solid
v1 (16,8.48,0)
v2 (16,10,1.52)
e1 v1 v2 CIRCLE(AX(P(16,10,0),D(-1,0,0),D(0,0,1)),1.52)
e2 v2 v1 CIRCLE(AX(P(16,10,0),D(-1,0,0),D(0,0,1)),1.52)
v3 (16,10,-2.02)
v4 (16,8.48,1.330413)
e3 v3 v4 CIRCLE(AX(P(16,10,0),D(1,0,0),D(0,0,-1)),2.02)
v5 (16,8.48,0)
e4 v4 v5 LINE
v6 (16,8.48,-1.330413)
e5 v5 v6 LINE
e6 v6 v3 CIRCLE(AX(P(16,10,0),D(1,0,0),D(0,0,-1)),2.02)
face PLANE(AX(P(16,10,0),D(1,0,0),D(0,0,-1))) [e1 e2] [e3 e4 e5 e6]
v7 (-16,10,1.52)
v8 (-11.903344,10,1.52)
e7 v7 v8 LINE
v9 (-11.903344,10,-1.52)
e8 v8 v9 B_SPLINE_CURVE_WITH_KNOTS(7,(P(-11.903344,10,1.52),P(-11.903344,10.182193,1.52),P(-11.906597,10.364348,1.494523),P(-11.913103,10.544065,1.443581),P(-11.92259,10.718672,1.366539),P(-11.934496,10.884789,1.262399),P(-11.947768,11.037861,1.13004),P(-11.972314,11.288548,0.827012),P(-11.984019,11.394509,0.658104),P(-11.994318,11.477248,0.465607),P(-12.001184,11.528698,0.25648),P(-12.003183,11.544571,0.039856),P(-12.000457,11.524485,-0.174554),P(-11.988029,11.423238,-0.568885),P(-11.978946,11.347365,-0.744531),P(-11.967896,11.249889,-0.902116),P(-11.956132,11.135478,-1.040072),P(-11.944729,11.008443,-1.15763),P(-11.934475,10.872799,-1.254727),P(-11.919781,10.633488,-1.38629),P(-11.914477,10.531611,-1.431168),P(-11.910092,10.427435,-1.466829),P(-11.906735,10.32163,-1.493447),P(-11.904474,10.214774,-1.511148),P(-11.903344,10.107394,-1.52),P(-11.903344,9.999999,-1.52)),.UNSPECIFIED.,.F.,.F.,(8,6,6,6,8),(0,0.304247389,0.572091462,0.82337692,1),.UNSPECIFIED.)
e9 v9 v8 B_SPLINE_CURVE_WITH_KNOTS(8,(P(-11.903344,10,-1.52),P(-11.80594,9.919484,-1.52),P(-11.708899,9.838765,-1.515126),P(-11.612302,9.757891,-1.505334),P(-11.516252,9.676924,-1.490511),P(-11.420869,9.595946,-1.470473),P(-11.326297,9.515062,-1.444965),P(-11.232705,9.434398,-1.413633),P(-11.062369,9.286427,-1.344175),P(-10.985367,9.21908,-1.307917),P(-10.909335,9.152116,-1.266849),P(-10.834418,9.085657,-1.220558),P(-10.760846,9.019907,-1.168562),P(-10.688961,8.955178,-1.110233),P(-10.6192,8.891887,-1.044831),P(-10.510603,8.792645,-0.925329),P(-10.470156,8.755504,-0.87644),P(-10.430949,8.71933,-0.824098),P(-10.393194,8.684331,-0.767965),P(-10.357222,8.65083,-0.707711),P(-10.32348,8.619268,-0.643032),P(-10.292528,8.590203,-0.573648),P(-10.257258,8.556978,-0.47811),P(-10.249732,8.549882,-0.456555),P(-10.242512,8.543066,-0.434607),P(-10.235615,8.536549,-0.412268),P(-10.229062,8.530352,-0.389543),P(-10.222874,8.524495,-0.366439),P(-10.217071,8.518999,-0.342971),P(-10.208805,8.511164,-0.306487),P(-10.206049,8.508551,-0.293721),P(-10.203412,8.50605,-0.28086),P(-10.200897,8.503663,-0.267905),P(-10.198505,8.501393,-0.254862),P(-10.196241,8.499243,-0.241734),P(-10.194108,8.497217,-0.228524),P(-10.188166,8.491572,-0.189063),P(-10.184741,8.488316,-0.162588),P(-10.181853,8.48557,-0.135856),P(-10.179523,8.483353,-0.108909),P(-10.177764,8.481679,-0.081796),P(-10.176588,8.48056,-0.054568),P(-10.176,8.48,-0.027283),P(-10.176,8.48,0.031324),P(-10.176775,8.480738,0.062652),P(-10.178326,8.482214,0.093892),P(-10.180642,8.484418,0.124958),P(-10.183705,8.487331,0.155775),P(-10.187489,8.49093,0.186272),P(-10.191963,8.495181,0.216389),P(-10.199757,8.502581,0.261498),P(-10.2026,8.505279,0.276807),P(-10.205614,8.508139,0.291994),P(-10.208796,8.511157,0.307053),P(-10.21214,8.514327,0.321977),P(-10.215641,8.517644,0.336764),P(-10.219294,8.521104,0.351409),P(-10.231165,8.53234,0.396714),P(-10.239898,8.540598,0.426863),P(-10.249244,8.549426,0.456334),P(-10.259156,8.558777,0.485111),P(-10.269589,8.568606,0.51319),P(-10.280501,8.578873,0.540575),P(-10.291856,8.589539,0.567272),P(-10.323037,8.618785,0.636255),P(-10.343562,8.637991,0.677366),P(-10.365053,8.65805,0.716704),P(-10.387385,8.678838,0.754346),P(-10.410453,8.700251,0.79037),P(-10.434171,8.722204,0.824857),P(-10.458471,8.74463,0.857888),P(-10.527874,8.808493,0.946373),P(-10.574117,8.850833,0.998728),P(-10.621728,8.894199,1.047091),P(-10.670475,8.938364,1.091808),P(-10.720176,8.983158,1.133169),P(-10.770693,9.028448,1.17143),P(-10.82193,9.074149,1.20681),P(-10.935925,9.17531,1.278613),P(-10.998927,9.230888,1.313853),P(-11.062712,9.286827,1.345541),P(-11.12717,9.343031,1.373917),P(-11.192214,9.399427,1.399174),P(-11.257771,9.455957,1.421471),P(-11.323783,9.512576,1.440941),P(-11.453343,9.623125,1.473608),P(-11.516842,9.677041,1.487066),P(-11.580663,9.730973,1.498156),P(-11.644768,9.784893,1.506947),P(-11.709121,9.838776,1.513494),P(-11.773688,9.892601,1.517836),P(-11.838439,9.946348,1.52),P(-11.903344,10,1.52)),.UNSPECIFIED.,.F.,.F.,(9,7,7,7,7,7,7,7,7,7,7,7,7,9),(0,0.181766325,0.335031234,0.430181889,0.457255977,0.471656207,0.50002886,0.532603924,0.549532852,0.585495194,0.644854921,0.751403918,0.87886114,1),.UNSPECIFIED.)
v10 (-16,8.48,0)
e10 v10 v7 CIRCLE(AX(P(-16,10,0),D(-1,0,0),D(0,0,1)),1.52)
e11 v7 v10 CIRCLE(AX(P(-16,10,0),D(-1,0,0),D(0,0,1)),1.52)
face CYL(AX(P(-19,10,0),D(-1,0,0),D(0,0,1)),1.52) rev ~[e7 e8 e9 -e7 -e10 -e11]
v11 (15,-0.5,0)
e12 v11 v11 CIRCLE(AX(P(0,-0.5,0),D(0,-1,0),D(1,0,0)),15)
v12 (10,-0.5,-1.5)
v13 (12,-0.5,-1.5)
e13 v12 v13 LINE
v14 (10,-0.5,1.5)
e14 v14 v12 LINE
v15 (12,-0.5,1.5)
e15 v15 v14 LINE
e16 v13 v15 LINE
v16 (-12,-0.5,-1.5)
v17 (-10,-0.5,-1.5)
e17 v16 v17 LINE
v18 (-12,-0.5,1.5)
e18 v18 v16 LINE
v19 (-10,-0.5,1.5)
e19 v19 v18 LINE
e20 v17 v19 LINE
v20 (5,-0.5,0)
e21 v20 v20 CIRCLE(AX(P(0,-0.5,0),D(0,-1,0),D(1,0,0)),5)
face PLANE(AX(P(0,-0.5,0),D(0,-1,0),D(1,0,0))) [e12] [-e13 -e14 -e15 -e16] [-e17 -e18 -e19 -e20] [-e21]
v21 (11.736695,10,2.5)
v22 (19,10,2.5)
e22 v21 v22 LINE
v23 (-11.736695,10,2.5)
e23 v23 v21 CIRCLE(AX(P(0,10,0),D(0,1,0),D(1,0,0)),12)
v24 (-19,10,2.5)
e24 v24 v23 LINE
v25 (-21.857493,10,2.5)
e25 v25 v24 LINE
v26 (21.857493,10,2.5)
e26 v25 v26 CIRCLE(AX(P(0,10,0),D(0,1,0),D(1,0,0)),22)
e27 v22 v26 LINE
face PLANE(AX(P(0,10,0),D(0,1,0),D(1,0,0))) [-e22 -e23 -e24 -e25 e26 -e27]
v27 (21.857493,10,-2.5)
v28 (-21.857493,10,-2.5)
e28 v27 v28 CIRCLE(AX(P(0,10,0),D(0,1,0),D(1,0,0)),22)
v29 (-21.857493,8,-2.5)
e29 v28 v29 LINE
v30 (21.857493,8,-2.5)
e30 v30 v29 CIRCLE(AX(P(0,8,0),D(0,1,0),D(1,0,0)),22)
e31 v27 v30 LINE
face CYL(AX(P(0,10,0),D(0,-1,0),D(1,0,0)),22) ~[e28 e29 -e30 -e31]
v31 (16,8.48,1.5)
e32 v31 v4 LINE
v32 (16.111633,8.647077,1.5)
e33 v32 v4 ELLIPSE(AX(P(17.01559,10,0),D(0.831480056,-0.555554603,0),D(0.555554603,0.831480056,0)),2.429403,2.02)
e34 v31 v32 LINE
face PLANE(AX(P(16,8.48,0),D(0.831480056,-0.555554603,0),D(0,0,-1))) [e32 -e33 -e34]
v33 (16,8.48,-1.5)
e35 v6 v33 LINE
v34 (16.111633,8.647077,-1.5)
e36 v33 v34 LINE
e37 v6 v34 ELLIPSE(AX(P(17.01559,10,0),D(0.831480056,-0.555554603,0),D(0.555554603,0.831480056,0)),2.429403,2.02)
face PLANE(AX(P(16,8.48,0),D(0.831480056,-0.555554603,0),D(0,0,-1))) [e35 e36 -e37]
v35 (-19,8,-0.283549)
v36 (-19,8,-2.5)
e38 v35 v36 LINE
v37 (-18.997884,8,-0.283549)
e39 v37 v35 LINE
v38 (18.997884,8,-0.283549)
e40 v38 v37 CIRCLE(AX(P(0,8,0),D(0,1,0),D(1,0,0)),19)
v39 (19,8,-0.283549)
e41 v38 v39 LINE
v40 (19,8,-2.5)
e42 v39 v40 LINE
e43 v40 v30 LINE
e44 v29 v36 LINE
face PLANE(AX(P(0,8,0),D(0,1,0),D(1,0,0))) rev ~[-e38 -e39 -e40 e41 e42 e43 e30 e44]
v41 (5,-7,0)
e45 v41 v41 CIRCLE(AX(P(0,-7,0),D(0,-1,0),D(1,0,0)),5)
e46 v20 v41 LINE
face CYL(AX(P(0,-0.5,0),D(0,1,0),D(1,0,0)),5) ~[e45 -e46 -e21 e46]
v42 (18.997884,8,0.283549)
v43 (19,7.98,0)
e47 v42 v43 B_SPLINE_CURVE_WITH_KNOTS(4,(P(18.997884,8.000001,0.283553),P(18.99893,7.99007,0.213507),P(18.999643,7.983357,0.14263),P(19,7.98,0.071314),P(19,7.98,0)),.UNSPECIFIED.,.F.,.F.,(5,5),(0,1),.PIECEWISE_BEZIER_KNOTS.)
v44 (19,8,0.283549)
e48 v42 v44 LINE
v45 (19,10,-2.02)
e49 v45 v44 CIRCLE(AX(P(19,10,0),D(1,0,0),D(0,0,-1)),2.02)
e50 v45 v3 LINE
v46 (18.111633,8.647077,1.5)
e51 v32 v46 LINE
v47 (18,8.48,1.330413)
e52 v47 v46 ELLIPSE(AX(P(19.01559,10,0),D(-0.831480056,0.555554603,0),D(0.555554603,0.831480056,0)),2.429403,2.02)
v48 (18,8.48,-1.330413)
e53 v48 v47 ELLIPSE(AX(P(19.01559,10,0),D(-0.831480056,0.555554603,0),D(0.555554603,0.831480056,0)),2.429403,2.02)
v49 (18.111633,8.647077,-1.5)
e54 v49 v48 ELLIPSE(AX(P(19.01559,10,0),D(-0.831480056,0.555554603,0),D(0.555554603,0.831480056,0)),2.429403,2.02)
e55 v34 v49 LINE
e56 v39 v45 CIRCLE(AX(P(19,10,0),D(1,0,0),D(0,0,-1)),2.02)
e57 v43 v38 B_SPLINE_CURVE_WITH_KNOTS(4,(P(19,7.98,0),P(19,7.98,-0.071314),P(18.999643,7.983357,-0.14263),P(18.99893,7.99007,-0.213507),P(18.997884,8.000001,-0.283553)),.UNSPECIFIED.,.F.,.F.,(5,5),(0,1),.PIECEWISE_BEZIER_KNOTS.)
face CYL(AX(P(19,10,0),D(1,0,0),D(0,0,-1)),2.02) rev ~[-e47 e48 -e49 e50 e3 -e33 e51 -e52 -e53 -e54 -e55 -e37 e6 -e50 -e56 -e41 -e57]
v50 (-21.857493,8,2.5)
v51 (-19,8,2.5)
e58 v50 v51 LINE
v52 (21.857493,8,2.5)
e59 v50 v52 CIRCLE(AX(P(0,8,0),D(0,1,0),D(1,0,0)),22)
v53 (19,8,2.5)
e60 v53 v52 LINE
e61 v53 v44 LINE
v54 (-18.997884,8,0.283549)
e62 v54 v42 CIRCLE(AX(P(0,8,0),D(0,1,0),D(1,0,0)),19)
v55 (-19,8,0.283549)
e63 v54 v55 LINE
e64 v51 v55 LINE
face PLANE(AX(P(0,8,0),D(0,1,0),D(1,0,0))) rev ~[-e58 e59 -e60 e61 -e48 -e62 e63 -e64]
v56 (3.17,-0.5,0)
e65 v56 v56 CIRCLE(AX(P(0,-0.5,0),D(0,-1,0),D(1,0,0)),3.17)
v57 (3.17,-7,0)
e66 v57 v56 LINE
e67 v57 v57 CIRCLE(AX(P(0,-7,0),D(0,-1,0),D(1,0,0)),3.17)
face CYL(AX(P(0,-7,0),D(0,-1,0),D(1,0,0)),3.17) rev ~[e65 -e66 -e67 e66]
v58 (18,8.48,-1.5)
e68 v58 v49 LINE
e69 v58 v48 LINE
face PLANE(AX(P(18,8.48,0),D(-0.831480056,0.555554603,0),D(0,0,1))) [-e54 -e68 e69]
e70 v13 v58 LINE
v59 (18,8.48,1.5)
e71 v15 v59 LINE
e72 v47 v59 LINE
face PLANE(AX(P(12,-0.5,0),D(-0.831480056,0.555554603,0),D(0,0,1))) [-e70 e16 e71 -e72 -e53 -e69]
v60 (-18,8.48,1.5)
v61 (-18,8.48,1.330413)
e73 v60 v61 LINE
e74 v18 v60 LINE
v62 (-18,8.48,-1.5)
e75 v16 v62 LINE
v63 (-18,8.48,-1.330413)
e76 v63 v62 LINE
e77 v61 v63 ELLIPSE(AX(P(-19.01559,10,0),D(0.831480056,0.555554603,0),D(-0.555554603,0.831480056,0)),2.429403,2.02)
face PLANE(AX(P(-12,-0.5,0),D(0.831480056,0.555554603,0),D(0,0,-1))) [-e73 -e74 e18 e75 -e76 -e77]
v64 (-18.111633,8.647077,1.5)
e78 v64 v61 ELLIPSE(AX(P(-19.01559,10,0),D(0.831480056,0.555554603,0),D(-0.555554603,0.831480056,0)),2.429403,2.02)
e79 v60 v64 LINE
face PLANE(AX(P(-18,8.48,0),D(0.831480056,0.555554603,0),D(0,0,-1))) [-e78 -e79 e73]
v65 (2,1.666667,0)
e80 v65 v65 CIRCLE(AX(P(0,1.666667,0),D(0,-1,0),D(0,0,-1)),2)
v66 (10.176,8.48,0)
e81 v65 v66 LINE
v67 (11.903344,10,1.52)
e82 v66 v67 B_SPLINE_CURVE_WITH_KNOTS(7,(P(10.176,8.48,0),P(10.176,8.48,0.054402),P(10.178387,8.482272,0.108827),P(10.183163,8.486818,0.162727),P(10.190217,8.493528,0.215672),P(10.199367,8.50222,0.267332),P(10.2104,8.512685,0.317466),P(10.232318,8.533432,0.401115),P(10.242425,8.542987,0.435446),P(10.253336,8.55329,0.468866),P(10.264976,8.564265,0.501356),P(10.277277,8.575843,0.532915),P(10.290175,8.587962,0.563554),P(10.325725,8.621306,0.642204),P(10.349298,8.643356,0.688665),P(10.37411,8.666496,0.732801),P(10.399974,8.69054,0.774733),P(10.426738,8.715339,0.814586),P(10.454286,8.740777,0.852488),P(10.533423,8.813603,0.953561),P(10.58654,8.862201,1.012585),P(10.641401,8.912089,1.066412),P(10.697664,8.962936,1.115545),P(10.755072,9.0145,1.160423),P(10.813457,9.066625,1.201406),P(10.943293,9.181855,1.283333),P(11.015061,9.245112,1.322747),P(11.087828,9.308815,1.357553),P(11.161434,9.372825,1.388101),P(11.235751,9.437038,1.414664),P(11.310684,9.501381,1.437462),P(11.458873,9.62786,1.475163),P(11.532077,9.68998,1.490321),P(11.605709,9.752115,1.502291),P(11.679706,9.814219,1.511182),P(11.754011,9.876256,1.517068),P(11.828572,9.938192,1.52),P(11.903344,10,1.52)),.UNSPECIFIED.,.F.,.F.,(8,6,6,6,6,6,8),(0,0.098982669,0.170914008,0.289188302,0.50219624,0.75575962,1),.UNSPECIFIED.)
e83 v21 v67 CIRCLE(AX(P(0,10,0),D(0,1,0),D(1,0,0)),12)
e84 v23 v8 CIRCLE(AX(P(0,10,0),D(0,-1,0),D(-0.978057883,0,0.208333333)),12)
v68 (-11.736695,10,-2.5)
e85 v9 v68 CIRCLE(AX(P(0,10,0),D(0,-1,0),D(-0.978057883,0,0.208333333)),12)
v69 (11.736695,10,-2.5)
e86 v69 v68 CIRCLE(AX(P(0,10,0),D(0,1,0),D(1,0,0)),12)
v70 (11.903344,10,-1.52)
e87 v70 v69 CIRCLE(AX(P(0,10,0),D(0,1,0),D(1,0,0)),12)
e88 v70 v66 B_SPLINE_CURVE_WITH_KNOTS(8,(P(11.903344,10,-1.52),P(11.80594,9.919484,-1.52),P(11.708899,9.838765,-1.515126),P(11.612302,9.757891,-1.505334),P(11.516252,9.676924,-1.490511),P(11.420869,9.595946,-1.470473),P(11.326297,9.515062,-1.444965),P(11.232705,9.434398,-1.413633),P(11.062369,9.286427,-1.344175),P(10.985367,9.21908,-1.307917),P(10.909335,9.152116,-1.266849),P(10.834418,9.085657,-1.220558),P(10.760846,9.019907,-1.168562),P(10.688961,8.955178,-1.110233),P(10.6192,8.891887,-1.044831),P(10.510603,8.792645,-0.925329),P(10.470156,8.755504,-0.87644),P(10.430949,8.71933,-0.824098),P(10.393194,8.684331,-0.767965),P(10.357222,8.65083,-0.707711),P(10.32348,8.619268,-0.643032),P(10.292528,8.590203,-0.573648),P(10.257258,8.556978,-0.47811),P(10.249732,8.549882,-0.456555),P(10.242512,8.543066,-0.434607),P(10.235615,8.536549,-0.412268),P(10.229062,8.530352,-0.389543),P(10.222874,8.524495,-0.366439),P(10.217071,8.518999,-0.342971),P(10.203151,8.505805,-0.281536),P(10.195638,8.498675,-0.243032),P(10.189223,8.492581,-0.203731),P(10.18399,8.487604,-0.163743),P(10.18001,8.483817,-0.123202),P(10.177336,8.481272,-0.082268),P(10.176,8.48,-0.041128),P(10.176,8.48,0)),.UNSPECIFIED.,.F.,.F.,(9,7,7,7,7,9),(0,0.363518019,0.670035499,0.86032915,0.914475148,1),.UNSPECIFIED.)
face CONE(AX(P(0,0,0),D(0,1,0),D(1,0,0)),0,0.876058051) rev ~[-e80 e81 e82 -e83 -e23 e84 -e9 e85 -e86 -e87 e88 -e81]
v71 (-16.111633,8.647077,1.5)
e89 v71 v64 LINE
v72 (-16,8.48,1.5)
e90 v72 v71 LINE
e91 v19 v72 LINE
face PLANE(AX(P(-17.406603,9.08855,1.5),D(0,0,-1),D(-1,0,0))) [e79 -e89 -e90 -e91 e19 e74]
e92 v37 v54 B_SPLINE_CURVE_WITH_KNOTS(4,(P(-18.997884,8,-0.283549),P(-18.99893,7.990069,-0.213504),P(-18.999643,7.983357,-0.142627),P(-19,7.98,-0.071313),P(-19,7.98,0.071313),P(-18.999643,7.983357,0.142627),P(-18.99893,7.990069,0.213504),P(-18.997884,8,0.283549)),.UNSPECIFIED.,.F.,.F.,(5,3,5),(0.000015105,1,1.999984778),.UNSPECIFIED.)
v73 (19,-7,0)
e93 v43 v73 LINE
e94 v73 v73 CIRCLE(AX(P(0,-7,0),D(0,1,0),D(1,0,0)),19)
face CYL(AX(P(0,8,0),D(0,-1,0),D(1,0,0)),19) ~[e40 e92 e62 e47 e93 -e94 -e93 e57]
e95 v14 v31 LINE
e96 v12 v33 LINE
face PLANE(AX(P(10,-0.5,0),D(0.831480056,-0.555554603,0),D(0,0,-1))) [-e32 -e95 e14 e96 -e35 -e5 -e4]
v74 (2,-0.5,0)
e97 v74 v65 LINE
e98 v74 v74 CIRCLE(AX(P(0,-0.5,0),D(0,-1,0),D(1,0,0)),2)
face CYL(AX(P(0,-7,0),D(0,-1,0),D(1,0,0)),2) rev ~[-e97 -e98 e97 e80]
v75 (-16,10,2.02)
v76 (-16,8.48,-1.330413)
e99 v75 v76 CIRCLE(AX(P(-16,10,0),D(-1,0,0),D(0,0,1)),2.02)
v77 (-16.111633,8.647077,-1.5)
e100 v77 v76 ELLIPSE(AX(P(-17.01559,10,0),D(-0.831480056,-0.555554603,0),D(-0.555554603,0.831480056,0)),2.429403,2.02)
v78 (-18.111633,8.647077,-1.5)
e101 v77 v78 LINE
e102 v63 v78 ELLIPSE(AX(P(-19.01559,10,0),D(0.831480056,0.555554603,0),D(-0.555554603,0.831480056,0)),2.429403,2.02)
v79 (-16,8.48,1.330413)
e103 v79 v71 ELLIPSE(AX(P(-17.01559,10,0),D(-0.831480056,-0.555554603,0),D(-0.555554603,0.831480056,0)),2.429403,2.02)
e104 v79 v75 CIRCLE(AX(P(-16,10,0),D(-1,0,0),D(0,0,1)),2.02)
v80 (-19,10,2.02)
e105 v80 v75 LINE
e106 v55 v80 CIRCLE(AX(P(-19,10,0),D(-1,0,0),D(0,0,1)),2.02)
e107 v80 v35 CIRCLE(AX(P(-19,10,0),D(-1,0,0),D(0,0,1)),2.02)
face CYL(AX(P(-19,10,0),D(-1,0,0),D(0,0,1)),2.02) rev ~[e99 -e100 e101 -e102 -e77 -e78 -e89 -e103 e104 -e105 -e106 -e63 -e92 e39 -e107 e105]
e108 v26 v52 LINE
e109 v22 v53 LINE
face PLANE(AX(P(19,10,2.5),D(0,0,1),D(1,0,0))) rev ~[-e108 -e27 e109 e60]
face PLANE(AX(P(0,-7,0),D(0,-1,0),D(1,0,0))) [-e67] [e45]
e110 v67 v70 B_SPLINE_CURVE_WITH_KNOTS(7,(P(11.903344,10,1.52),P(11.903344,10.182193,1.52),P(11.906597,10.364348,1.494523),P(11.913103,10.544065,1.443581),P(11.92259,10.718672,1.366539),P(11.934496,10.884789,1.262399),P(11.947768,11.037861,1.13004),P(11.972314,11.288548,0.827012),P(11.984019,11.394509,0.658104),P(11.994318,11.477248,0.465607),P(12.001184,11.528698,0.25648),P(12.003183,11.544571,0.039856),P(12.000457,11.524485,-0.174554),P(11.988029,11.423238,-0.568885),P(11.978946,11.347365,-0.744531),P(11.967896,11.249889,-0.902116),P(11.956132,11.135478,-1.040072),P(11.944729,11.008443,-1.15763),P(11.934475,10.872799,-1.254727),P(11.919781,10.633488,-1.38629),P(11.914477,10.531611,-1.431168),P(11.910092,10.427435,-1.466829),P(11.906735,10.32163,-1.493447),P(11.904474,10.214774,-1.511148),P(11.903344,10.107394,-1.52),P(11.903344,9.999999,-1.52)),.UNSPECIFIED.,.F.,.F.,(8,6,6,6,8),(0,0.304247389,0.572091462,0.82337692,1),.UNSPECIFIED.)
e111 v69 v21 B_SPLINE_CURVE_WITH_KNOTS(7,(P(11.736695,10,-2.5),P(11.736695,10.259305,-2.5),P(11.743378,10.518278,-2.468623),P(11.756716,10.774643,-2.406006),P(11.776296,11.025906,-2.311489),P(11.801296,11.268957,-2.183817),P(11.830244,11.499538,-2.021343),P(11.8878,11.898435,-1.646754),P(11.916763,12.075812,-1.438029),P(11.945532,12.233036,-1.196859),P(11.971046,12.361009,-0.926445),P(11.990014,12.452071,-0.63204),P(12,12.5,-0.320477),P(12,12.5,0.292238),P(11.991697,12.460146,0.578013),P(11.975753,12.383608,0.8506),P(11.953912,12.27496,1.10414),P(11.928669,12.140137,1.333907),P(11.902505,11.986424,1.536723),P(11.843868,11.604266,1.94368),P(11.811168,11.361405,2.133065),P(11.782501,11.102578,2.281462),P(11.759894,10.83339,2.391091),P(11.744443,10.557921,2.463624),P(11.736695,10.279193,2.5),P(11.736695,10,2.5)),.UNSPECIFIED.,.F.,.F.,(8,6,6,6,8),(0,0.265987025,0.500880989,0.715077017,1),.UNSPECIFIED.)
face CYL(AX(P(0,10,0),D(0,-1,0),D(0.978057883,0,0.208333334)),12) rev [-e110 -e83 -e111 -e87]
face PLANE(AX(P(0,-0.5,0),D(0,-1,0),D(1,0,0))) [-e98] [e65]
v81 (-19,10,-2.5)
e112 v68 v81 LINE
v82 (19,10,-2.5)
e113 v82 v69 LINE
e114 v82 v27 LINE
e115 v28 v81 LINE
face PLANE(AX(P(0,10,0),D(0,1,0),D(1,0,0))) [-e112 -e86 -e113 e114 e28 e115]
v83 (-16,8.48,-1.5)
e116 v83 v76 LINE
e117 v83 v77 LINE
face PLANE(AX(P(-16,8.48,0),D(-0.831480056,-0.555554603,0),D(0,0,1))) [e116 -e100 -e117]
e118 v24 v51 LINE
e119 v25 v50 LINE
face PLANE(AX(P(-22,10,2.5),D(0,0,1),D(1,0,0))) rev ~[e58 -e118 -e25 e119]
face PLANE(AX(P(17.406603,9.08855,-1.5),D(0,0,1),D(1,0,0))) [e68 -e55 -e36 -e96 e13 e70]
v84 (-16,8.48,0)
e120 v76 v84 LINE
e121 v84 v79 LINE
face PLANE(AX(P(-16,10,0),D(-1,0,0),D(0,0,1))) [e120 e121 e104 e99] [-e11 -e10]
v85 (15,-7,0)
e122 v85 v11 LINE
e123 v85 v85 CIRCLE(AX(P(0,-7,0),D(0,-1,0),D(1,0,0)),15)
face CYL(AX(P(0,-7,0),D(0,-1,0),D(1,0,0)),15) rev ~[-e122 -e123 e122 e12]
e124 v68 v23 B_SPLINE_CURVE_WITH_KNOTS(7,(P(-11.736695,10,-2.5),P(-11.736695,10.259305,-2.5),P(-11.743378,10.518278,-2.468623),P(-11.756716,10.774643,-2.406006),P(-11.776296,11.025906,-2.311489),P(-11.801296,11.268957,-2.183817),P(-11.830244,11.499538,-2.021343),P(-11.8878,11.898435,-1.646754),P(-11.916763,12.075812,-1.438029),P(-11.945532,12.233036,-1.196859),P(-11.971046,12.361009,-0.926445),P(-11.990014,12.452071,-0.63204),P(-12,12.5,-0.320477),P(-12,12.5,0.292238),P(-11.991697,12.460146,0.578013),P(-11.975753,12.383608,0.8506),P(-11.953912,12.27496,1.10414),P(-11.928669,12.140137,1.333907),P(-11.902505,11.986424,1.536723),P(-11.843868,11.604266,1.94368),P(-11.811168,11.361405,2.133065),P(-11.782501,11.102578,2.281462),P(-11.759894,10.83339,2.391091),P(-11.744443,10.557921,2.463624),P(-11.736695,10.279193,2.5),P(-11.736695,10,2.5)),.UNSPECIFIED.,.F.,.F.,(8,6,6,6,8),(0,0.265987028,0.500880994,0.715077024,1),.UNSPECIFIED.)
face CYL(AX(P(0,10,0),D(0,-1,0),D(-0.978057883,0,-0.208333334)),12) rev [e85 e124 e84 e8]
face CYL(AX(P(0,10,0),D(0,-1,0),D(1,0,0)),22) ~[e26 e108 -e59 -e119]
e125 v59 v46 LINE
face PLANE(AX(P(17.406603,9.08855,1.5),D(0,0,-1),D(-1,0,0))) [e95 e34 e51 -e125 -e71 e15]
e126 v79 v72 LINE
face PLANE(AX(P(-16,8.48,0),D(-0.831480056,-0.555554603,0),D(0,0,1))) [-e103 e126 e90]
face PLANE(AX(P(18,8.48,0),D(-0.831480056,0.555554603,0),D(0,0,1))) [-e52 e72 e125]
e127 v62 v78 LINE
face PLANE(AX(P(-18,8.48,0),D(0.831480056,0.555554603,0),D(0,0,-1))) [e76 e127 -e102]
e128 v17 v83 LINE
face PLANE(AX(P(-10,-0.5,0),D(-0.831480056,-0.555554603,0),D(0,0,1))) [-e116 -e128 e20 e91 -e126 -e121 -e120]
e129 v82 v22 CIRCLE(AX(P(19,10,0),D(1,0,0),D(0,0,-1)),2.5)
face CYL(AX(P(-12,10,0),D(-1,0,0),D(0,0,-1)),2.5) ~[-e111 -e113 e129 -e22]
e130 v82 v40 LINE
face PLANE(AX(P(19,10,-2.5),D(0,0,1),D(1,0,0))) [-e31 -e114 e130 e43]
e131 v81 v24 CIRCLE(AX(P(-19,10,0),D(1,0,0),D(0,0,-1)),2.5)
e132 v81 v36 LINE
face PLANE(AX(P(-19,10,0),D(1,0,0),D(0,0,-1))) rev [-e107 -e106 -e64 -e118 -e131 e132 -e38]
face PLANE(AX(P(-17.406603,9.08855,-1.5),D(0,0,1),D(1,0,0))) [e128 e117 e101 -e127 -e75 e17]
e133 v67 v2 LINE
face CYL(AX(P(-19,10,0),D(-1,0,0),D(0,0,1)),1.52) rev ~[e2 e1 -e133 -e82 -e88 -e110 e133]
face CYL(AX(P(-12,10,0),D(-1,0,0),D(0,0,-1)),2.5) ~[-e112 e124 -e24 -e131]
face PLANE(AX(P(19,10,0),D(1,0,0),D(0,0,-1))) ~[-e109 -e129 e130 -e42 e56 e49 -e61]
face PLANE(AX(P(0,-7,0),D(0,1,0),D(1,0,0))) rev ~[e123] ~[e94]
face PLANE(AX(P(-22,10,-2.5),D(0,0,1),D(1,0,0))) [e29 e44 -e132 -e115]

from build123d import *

# Parameters (mm, degrees)
SKETCH2_W               = 7
SKETCH2_H               = 2.5
REVOLVE2_ANGLE          = 180
BOSS_EXTRUDE4_DEPTH     = 24
CUT_EXTRUDE1_DEPTH      = 3.5
SKETCH17_W              = 3
SKETCH17_H              = 5
CUT_EXTRUDE6_DEPTH      = 18
SKETCH16_R              = 1.52
CUT_EXTRUDE5_DEPTH      = 3.857492994
CUT_EXTRUDE5_DEPTH_BACK = 41.857492994
SKETCH19_R              = 2.02
CUT_EXTRUDE7_DEPTH      = 3
SKETCH20_R              = 2.02
CUT_EXTRUDE8_DEPTH      = 3
SKETCH21_R              = 15
CUT_EXTRUDE9_DEPTH      = 6.5
SKETCH22_R              = 5
BOSS_EXTRUDE6_DEPTH     = 6.5
SKETCH23_W              = 2
SKETCH23_H              = 3
SKETCH24_W              = 2
SKETCH24_H              = 3
SKETCH25_R              = 2
CUT_EXTRUDE11_DEPTH     = 20.5000001
SKETCH26_R              = 3.17
CUT_EXTRUDE12_DEPTH     = 6.5


with BuildPart() as part:
    # Sketch1 → Revolve1 (revolve)
    with BuildSketch(Plane.XY):
        Polygon((0, 0), (12, 10), (17, 10), (22, 10), (22, 8), (19, 8), (19, -7), (0, -7), align=None)
    revolve(axis=Axis((0, -7, 0), (0, 1, 0)))

    # Sketch2 → Revolve2 (revolve)
    with BuildSketch(Plane(origin=(0, 10, 0), x_dir=(1, 0, 0), z_dir=(0, 1, 0))):
        with Locations((15.5, 1.25)):
            Rectangle(SKETCH2_W, SKETCH2_H)
        with Locations((-15.5, 1.25)):
            Rectangle(SKETCH2_W, SKETCH2_H)
    revolve(axis=Axis((0, 10, 0), (1, 0, 0)), revolution_arc=REVOLVE2_ANGLE)

    # Sketch8 → Boss-Extrude4 (add)
    with BuildSketch(Plane(origin=(-12, 0, 0), x_dir=(0, 0, -1), z_dir=(1, 0, 0))):
        with BuildLine():
            Line((-2.5, 10), (0, 10))
            Line((0, 10), (2.5, 10))
            ThreePointArc((2.5, 10), (0, 12.5), (-2.5, 10))
        make_face()
    extrude(amount=BOSS_EXTRUDE4_DEPTH)

    # Sketch9 → Cut-Extrude1 (cut, through all)
    with BuildSketch(Plane(origin=(0, 10, 0), x_dir=(1, 0, 0), z_dir=(0, 1, 0))):
        with BuildLine():
            ThreePointArc((-11.736694594, 2.5), (-12, 0), (-11.736694594, -2.5))
            ThreePointArc((-11.736694594, -2.5), (0, -12), (11.736694594, -2.5))
            ThreePointArc((11.736694594, -2.5), (12, 0), (11.736694594, 2.5))
            ThreePointArc((11.736694594, 2.5), (0, 12), (-11.736694594, 2.5))
        make_face()
    extrude(amount=CUT_EXTRUDE1_DEPTH, mode=Mode.SUBTRACT)

    # Sketch17 → Cut-Extrude6 (cut, through all)
    with BuildSketch(Plane(origin=(0, 10, 0), x_dir=(1, 0, 0), z_dir=(0, 1, 0))):
        with Locations((20.5, 0)):
            Rectangle(SKETCH17_W, SKETCH17_H)
        with Locations((-20.5, 0)):
            Rectangle(SKETCH17_W, SKETCH17_H)
    extrude(amount=-CUT_EXTRUDE6_DEPTH, mode=Mode.SUBTRACT)

    # Sketch16 → Cut-Extrude5 (cut, two sides)
    with BuildSketch(Plane.ZY.offset(19)) as cut_extrude5_sk:
        with Locations((0, 10)):
            Circle(SKETCH16_R)
    extrude(amount=CUT_EXTRUDE5_DEPTH, mode=Mode.SUBTRACT)
    extrude(cut_extrude5_sk.sketch, amount=-CUT_EXTRUDE5_DEPTH_BACK, mode=Mode.SUBTRACT)

    # Sketch19 → Cut-Extrude7 (cut)
    with BuildSketch(Plane.ZY.offset(19)):
        with Locations((0, 10)):
            Circle(SKETCH19_R)
    extrude(amount=-CUT_EXTRUDE7_DEPTH, mode=Mode.SUBTRACT)

    # Sketch20 → Cut-Extrude8 (cut)
    with BuildSketch(Plane(origin=(19, 0, 0), x_dir=(0, 0, -1), z_dir=(1, 0, 0))):
        with Locations((0, 10)):
            Circle(SKETCH20_R)
    extrude(amount=-CUT_EXTRUDE8_DEPTH, mode=Mode.SUBTRACT)

    # Sketch21 → Cut-Extrude9 (cut)
    with BuildSketch(Plane.XZ.offset(7)):
        Circle(SKETCH21_R)
    extrude(amount=-CUT_EXTRUDE9_DEPTH, mode=Mode.SUBTRACT)

    # Sketch22 → Boss-Extrude6 (add)
    with BuildSketch(Plane.XZ.offset(0.5)):
        Circle(SKETCH22_R)
    extrude(amount=BOSS_EXTRUDE6_DEPTH)

    # Cut-Sweep2: sweep along a curve in space
    with BuildLine() as cut_sweep2_path:
        Line((10, -0.5, 0), (16, 8.48, 0))
        Line((16, 8.48, 0), (16.813206723, 9.697099395, 0))
    # Sketch23 → Cut-Sweep2 (sweep, cut)
    with BuildSketch(Plane.XZ.offset(0.5)):
        with Locations((11, 0)):
            Rectangle(SKETCH23_W, SKETCH23_H)
    sweep(path=cut_sweep2_path.line, mode=Mode.SUBTRACT)

    # Cut-Sweep3: sweep along a curve in space
    with BuildLine() as cut_sweep3_path:
        Line((-10, -0.5, 0), (-16, 8.48, 0))
        Line((-16, 8.48, 0), (-16.813206723, 9.697099395, 0))
    # Sketch24 → Cut-Sweep3 (sweep, cut)
    with BuildSketch(Plane.XZ.offset(0.5)):
        with Locations((-11, 0)):
            Rectangle(SKETCH24_W, SKETCH24_H)
    sweep(path=cut_sweep3_path.line, mode=Mode.SUBTRACT)

    # Sketch25 → Cut-Extrude11 (cut, through all)
    with BuildSketch(Plane.XZ.offset(7)):
        Circle(SKETCH25_R)
    extrude(amount=-CUT_EXTRUDE11_DEPTH, mode=Mode.SUBTRACT)

    # Sketch26 → Cut-Extrude12 (cut)
    with BuildSketch(Plane.XZ.offset(7)):
        Circle(SKETCH26_R)
    extrude(amount=-CUT_EXTRUDE12_DEPTH, mode=Mode.SUBTRACT)


solid = part.part
